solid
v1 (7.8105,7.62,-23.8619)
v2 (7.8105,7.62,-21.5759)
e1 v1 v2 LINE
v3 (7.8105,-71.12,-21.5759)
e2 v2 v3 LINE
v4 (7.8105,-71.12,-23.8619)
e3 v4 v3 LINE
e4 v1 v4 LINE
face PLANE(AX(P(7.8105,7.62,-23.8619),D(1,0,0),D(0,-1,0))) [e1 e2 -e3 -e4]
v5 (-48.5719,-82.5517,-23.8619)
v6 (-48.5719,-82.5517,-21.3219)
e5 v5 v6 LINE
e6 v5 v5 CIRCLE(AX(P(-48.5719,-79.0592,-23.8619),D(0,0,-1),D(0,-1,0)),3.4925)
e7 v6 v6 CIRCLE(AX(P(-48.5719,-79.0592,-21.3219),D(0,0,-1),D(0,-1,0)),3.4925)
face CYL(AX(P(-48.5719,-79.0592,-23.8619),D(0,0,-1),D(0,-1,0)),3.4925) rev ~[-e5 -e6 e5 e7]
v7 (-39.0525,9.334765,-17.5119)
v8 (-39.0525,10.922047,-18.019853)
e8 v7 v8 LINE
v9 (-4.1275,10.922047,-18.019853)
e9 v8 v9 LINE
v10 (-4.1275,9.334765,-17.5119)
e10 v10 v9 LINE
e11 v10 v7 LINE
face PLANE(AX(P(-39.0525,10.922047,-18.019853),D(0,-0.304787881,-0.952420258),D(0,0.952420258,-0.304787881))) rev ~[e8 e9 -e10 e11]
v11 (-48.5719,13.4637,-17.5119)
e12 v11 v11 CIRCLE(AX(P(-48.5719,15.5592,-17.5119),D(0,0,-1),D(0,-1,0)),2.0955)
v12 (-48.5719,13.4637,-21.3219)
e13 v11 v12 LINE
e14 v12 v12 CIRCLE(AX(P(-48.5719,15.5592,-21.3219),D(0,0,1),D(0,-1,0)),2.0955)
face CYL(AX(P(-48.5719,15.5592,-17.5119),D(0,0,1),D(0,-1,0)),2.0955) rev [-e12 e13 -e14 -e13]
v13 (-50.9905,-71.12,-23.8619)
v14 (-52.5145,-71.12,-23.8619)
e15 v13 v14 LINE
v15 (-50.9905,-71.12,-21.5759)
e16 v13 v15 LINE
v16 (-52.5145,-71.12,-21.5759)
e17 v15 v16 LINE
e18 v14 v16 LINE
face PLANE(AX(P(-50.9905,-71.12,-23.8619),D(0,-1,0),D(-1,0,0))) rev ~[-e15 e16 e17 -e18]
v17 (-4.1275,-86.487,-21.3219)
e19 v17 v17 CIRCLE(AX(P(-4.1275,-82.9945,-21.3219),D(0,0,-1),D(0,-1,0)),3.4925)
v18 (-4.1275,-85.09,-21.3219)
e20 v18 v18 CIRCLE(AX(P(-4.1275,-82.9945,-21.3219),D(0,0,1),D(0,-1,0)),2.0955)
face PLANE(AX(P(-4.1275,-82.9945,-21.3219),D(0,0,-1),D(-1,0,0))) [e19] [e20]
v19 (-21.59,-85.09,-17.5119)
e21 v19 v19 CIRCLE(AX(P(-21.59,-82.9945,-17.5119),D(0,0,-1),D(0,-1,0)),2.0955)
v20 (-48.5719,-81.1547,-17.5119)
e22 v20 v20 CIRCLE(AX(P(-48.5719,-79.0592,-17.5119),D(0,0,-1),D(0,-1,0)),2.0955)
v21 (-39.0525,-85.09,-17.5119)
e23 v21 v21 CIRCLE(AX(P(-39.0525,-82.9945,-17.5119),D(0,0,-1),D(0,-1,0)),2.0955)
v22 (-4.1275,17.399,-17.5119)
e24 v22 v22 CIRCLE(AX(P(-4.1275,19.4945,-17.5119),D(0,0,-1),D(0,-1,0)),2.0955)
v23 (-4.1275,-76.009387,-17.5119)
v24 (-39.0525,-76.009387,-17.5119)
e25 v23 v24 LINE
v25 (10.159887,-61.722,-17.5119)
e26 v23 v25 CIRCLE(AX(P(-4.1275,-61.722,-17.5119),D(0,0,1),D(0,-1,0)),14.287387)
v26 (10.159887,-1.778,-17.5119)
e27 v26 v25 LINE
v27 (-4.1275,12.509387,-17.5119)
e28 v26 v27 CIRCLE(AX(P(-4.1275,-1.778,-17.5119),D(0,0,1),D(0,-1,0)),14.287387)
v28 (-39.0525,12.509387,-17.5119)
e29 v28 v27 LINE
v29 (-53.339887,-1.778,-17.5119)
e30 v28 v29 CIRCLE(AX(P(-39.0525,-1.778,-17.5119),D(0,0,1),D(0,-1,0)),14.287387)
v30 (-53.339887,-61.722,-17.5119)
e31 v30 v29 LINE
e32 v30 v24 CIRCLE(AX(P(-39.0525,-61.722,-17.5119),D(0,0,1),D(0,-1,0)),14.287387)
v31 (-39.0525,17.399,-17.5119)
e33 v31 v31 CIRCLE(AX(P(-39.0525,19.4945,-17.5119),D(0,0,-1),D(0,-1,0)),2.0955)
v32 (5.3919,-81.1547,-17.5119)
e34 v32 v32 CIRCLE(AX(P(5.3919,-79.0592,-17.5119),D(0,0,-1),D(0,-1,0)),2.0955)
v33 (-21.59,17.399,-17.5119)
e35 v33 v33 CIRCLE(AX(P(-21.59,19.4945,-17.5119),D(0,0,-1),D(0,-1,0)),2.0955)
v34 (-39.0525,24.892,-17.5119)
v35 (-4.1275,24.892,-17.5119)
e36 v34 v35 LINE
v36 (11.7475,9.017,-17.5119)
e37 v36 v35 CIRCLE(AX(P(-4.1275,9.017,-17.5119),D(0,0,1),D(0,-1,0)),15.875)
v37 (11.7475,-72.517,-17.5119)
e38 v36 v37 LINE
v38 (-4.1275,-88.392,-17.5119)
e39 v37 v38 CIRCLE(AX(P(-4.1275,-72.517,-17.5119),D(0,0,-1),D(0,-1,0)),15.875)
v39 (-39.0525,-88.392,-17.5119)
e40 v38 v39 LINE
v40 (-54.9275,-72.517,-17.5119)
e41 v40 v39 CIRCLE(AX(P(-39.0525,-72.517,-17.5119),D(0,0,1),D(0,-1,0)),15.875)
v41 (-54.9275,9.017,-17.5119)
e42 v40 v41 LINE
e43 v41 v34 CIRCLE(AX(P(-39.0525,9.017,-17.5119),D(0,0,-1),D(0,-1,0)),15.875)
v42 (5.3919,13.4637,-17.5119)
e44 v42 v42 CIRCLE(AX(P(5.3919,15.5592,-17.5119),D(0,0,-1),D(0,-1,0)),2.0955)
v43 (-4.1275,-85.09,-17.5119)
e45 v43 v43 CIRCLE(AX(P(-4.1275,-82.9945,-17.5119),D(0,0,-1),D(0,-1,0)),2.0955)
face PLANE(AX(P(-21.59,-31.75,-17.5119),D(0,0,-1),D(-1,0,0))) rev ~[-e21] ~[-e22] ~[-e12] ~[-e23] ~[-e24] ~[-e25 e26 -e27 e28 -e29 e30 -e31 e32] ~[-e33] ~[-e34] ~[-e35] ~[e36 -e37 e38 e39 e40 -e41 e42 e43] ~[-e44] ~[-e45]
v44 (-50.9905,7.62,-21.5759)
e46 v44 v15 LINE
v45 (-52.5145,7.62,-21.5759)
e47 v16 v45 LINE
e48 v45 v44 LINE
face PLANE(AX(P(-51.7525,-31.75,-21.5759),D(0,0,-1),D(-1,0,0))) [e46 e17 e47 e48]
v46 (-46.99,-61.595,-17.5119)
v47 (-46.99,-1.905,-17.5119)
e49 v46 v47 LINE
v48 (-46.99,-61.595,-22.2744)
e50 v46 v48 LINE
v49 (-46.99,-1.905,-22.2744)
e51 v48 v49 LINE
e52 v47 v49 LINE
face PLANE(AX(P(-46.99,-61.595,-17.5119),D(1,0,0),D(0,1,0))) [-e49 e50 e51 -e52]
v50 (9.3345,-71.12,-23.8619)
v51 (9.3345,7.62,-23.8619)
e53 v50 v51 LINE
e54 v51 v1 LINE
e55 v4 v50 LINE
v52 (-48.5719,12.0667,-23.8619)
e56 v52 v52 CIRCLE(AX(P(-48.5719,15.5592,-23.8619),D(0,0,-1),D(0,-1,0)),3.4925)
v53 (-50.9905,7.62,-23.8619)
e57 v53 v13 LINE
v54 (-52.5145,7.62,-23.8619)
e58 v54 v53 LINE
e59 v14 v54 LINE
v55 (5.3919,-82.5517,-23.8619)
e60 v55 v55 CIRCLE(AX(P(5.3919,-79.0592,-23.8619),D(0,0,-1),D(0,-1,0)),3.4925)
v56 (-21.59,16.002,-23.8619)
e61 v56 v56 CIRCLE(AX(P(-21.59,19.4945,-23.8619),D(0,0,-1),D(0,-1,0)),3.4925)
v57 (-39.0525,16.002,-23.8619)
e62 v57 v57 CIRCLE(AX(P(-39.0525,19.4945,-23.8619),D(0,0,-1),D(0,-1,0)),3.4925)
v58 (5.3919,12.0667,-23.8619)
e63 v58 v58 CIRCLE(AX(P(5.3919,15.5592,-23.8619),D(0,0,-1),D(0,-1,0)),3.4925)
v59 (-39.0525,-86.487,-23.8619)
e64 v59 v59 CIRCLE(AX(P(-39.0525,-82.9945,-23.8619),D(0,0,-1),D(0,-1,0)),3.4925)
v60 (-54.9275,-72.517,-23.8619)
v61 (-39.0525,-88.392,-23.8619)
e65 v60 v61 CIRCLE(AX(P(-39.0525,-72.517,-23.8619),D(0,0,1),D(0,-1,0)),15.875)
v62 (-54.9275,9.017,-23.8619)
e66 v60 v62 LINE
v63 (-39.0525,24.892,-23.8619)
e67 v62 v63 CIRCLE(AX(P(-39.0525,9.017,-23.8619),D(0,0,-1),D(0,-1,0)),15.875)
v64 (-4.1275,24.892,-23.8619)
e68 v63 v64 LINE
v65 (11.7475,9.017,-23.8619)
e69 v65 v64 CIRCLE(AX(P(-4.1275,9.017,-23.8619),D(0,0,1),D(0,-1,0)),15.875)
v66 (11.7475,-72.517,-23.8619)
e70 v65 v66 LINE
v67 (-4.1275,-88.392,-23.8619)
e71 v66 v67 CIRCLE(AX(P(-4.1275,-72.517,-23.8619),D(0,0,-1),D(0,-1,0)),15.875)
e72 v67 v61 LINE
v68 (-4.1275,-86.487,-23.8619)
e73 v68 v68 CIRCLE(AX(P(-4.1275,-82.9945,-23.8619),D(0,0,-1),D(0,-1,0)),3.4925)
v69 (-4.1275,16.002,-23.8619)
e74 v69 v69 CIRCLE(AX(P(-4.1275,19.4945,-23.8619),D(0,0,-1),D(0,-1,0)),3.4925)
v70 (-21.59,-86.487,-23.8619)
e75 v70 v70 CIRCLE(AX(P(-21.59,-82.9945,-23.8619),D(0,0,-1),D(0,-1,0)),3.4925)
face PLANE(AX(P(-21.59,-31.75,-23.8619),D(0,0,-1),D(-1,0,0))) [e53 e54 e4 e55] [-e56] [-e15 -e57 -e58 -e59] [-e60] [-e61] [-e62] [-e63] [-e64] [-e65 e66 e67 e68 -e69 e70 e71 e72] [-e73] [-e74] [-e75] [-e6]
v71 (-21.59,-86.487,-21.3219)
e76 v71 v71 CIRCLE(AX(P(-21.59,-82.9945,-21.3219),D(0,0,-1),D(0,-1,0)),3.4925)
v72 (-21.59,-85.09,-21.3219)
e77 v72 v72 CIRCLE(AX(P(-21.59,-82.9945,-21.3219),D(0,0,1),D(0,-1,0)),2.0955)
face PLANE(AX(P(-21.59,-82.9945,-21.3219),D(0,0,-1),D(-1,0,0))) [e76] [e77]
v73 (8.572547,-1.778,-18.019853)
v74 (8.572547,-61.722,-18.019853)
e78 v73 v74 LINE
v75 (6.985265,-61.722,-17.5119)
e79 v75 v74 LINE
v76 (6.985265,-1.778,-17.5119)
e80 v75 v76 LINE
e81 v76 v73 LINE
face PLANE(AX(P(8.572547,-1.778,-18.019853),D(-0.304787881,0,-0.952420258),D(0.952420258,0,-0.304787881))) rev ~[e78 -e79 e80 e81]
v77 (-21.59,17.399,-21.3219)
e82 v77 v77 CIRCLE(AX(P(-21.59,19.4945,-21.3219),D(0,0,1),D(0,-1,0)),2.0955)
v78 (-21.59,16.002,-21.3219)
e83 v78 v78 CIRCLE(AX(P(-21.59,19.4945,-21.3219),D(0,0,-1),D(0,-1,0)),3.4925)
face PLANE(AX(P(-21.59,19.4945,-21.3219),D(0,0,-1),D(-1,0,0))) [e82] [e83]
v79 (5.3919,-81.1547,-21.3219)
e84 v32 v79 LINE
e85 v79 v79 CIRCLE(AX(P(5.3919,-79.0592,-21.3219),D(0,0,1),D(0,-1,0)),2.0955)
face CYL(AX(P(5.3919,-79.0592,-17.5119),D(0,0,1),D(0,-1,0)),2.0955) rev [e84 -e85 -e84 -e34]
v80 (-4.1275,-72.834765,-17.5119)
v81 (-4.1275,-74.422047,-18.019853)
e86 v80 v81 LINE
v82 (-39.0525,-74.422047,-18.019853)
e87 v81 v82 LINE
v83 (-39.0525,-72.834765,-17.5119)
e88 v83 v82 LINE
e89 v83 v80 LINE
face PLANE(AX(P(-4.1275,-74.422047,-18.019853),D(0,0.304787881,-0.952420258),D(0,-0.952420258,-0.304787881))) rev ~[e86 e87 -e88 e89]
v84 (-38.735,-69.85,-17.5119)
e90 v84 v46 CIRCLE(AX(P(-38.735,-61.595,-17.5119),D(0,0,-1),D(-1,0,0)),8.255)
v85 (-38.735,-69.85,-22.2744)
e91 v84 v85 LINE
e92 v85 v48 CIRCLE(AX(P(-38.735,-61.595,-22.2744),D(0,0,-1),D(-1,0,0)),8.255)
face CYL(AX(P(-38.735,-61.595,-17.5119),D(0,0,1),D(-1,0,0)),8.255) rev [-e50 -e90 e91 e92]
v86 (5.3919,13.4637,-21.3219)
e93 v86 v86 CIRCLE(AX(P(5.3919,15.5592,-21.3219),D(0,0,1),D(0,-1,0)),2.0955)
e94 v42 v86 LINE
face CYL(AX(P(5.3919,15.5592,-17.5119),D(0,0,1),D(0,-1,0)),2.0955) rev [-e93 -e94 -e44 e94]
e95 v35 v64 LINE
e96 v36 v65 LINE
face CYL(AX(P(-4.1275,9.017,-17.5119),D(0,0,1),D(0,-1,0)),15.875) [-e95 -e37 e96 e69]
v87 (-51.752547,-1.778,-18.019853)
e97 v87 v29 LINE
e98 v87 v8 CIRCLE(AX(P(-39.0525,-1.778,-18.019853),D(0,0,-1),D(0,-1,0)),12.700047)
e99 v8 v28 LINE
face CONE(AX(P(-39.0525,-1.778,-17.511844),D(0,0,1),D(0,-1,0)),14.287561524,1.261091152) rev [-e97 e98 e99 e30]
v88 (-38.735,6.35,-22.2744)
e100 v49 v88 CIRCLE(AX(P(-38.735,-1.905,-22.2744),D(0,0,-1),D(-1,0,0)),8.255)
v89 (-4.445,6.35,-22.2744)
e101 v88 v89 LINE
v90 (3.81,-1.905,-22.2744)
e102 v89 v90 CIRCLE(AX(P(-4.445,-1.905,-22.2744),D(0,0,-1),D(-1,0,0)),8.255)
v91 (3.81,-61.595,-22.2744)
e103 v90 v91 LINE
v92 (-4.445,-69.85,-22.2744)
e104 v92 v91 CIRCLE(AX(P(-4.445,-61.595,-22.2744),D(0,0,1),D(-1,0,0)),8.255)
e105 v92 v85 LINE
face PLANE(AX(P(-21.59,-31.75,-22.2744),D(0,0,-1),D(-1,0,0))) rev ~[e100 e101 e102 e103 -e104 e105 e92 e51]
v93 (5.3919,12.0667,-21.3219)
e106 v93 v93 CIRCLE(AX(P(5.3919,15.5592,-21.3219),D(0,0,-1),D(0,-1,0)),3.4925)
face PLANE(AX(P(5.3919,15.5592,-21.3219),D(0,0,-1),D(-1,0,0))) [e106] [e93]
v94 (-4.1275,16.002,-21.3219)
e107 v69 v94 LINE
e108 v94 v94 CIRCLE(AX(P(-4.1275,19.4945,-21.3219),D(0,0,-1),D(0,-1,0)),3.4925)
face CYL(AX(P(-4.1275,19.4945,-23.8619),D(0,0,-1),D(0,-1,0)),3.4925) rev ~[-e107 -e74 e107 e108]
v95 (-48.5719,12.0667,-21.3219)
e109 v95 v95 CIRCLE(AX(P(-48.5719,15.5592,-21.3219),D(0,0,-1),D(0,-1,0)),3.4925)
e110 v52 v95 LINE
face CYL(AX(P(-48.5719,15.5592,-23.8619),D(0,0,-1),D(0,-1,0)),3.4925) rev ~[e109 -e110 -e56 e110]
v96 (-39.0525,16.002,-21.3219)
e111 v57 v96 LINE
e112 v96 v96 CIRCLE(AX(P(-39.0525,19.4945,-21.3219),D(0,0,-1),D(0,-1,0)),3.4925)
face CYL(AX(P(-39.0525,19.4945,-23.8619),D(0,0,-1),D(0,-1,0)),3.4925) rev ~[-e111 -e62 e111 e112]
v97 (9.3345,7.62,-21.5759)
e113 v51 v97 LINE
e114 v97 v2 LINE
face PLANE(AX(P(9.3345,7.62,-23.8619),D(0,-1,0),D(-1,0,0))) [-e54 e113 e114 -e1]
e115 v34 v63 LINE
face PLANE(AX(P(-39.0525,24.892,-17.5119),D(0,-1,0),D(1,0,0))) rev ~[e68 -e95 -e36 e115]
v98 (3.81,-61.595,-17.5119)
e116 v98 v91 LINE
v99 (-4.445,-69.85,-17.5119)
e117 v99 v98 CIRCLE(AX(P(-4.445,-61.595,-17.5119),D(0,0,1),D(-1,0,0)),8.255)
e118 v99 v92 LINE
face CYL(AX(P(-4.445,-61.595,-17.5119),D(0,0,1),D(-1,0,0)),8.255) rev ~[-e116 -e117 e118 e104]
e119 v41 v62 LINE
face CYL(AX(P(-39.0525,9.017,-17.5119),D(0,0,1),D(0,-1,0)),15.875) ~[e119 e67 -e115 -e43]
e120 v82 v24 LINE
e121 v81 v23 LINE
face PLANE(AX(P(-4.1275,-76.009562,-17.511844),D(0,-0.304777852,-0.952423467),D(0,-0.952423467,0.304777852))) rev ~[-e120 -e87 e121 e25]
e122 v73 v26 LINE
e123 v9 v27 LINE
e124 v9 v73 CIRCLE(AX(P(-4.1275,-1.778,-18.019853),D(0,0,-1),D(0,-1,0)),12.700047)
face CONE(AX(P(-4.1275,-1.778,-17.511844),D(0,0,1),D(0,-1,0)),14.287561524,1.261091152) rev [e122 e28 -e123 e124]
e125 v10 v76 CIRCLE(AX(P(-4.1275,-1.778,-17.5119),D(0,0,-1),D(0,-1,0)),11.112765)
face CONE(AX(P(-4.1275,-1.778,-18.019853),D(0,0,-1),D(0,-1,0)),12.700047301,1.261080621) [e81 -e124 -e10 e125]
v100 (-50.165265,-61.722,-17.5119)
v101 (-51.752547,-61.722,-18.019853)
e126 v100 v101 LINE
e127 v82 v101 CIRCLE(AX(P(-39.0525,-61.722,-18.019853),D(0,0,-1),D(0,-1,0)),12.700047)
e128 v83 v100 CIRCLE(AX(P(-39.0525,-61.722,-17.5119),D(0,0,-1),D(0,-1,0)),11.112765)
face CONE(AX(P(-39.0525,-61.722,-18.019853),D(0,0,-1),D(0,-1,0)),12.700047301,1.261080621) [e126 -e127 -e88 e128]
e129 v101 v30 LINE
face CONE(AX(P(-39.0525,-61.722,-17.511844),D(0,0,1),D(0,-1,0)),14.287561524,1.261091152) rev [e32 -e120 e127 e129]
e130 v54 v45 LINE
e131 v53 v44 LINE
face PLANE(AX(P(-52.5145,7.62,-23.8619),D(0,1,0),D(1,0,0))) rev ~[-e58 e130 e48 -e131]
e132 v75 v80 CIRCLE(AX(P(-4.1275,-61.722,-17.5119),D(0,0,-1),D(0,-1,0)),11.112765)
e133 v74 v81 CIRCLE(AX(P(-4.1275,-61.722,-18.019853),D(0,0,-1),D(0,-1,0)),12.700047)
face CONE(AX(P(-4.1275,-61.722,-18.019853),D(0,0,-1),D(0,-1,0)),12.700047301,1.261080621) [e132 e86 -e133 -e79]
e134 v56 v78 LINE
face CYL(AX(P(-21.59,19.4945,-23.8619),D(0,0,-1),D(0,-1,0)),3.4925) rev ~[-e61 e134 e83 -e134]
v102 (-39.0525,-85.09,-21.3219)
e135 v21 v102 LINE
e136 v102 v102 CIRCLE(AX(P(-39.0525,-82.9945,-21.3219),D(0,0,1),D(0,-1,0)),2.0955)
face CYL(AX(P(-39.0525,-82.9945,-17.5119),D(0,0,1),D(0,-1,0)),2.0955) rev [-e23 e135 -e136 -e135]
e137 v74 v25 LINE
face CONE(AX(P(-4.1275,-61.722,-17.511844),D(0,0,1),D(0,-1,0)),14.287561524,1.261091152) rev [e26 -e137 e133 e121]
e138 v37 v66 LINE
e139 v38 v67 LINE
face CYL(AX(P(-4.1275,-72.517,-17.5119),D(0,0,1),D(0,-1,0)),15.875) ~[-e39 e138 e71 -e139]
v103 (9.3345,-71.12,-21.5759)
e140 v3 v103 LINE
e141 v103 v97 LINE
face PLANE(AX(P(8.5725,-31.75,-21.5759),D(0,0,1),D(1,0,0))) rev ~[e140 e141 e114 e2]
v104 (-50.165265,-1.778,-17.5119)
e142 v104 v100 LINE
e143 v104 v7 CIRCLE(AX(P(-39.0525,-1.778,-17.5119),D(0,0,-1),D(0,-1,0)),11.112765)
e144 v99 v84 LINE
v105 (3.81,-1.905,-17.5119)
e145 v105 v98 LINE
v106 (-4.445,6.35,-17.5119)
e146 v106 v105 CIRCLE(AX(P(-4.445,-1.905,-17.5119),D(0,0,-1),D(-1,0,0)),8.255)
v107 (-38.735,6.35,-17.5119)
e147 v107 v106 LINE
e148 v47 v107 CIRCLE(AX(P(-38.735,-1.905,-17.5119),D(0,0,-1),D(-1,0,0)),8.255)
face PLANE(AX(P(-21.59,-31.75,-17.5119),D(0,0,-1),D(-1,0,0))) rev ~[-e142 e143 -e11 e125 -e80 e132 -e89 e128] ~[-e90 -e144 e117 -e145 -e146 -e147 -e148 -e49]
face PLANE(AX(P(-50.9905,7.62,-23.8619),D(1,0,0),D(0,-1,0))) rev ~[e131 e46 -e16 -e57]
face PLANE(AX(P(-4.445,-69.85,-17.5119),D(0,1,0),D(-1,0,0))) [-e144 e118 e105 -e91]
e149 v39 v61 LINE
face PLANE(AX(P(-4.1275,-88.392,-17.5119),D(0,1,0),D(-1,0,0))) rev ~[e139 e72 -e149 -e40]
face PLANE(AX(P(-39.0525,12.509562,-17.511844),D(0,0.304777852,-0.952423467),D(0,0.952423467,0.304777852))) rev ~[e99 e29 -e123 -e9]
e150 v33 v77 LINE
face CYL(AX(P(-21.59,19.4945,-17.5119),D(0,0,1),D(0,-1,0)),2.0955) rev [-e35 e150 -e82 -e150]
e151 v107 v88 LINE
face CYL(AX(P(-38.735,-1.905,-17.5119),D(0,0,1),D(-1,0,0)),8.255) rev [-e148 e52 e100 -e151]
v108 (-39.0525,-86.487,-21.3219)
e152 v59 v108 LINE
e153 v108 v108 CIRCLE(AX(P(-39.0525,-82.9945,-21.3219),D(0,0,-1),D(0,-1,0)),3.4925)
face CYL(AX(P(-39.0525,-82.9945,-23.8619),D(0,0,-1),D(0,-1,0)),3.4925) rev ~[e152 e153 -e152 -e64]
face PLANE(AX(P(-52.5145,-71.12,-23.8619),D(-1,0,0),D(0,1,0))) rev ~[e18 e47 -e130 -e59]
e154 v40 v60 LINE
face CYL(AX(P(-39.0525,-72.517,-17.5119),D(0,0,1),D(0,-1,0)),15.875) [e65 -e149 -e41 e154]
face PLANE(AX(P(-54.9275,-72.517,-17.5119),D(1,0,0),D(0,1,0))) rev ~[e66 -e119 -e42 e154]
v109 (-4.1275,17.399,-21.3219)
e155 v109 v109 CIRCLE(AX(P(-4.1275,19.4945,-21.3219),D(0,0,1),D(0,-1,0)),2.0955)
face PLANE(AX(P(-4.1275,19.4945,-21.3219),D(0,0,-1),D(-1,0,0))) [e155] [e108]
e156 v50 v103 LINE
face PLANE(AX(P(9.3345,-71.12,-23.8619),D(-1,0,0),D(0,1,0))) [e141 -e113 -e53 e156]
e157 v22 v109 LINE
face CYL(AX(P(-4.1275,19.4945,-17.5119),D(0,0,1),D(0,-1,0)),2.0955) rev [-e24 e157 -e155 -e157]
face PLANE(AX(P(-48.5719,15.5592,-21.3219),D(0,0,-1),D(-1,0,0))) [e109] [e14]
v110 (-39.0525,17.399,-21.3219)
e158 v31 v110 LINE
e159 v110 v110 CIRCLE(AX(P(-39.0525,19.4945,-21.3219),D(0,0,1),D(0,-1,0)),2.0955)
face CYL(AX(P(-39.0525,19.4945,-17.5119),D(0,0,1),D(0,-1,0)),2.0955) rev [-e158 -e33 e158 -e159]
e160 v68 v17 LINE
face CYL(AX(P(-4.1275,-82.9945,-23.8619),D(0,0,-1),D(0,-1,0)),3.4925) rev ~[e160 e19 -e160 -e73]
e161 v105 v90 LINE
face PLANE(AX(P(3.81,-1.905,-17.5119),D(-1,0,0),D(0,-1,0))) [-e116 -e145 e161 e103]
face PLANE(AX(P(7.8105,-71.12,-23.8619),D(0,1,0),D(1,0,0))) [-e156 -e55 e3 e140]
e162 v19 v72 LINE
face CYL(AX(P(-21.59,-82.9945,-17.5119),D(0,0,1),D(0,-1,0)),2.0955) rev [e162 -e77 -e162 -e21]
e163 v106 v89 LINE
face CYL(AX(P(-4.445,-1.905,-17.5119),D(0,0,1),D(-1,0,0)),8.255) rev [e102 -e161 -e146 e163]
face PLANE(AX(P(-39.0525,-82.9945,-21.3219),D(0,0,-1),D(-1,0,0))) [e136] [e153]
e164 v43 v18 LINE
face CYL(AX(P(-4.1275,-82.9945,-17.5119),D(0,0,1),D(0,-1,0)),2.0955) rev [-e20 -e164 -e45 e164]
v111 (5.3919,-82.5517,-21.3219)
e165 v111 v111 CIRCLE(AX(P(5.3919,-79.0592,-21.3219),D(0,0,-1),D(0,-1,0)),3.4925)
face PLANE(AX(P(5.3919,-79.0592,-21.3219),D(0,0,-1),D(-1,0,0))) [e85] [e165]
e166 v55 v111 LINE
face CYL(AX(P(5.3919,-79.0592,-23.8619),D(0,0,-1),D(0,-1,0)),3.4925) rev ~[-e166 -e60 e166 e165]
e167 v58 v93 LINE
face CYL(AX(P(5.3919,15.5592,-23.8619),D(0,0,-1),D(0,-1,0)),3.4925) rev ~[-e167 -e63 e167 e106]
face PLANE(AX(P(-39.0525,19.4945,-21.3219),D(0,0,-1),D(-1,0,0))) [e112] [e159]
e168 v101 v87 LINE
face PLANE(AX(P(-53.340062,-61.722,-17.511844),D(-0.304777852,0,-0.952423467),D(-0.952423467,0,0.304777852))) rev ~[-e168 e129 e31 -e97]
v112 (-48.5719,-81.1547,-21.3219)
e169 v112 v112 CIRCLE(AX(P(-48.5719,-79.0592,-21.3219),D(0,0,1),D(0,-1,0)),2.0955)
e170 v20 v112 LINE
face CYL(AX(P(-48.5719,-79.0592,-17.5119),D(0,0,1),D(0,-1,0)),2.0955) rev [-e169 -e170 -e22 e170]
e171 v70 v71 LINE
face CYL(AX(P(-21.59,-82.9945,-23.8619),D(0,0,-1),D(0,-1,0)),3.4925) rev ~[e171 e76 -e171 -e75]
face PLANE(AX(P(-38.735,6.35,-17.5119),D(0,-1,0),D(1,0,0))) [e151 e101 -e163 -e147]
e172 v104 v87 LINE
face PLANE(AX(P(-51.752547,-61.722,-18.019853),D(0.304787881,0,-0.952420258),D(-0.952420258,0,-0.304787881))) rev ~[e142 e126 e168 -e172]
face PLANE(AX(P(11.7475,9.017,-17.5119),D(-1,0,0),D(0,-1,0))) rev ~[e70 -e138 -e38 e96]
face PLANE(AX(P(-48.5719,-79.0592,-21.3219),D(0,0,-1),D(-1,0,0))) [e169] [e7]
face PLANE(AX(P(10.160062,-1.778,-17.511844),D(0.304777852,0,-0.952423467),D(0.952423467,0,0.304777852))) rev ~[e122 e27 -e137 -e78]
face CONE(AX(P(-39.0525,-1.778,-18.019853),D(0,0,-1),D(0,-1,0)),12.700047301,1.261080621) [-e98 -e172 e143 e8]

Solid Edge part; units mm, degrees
sketch "Sketch1" plane through (-21.59, -31.75, -17.5119) normal (0, 0, -1) x (0, -1, 0)
  line L0 (56.642, -17.4625) -> (56.642, 17.4625)
  arc A0 (40.767, 33.3375) -> (56.642, 17.4625) centre (40.767, 17.4625) cw
  line L1 (40.767, 33.3375) -> (-40.767, 33.3375)
  arc A1 (-40.767, 33.3375) -> (-56.642, 17.4625) centre (-40.767, 17.4625) ccw
  line L2 (-56.642, 17.4625) -> (-56.642, -17.4625)
  arc A2 (-40.767, -33.3375) -> (-56.642, -17.4625) centre (-40.767, -17.4625) cw
  line L3 (-40.767, -33.3375) -> (40.767, -33.3375)
  arc A3 (40.767, -33.3375) -> (56.642, -17.4625) centre (40.767, -17.4625) ccw
  circle A4 centre (51.2445, 0) radius 2.0955
  circle A5 centre (51.2445, 17.4625) radius 2.0955
  circle A6 centre (47.3092, 26.9819) radius 2.0955
  circle A7 centre (51.2445, -17.4625) radius 2.0955
  circle A8 centre (47.3092, -26.9819) radius 2.0955
  circle A9 centre (-47.3092, 26.9819) radius 2.0955
  circle A10 centre (-51.2445, 17.4625) radius 2.0955
  circle A11 centre (-51.2445, 0) radius 2.0955
  circle A12 centre (-51.2445, -17.4625) radius 2.0955
  circle A13 centre (-47.3092, -26.9819) radius 2.0955
extrude "Protrusion1" add sketch "Sketch1" along normal blind 6.35
extrude "ExtrudedCutout_1" [suppressed]
sketch "Sketch2" plane through (-21.59, -31.75, -17.5119) normal (0, 0, -1) x (0, -1, 0)
  line L0 (42.672, -17.4625) -> (42.672, 17.4625)
  arc A0 (42.672, 17.4625) -> (29.972, 30.1625) centre (29.972, 17.4625) ccw
  line L1 (29.972, 30.1625) -> (-29.972, 30.1625)
  arc A1 (-42.672, 17.4625) -> (-29.972, 30.1625) centre (-29.972, 17.4625) cw
  line L2 (-42.672, 17.4625) -> (-42.672, -17.4625)
  arc A2 (-29.972, -30.1625) -> (-42.672, -17.4625) centre (-29.972, -17.4625) cw
  line L3 (-29.972, -30.1625) -> (29.972, -30.1625)
  arc A3 (42.672, -17.4625) -> (29.972, -30.1625) centre (29.972, -17.4625) cw
sketch "Sketch3" plane through (-21.59, -76.5773, -17.5119) normal (1, 0, 0) x (0, 0.7809, -0.6247)
  line L0 (0.4433, 0.3547) -> (2.9226, 2.3381)
  line L1 (2.0003, 0.9497) -> (2.9226, 2.3381)
  line L2 (0.4433, 0.3547) -> (2.0003, 0.9497)
  dimension "D1" = 0.508
sweep "SweptCutout_2" cut profiles "Sketch3" path "Sketch2"
sketch "Sketch4" plane through (-21.59, -31.75, -23.8619) normal (0, 0, -1) x (0, -1, 0)
  circle A0 centre (47.3092, 26.9819) radius 3.4925
  circle A1 centre (51.2445, 17.4625) radius 3.4925
  circle A2 centre (51.2445, 0) radius 3.4925
  circle A3 centre (51.2445, -17.4625) radius 3.4925
  circle A4 centre (47.3092, -26.9819) radius 3.4925
  circle A5 centre (-47.3092, -26.9819) radius 3.4925
  circle A6 centre (-51.2445, -17.4625) radius 3.4925
  circle A7 centre (-51.2445, 0) radius 3.4925
  circle A8 centre (-51.2445, 17.4625) radius 3.4925
  circle A9 centre (-47.3092, 26.9819) radius 3.4925
  dimension "D1" = 6.985
extrude "counter_sink" cut sketch "Sketch4" against normal blind 2.54
sketch "Sketch5" plane through (-21.59, -31.75, -23.8619) normal (0, 0, -1) x (0, -1, 0)
  line L0 (39.37, -30.9245) -> (-39.37, -30.9245)
  line L1 (-39.37, -30.9245) -> (-39.37, -29.4005)
  line L2 (-39.37, -29.4005) -> (39.37, -29.4005)
  line L3 (39.37, -29.4005) -> (39.37, -30.9245)
  line L4 (-39.37, 29.4005) -> (39.37, 29.4005)
  line L5 (39.37, 29.4005) -> (39.37, 30.9245)
  line L6 (39.37, 30.9245) -> (-39.37, 30.9245)
  line L7 (-39.37, 30.9245) -> (-39.37, 29.4005)
  dimension "D1" = 78.74
  dimension "D2" = 1.524
extrude "ExtrudedCutout_3" cut sketch "Sketch5" against normal blind 2.286
sketch "Sketch6" plane through (-21.59, -31.75, -17.5119) normal (0, 0, 1) x (-1, 0, 0)
  line L0 (-17.145, 38.1) -> (17.145, 38.1)
  arc A0 (17.145, 38.1) -> (25.4, 29.845) centre (17.145, 29.845) cw
  line L1 (25.4, 29.845) -> (25.4, -29.845)
  arc A1 (25.4, -29.845) -> (17.145, -38.1) centre (17.145, -29.845) cw
  line L2 (17.145, -38.1) -> (-17.145, -38.1)
  arc A2 (-17.145, -38.1) -> (-25.4, -29.845) centre (-17.145, -29.845) cw
  line L3 (-25.4, -29.845) -> (-25.4, 29.845)
  arc A3 (-17.145, 38.1) -> (-25.4, 29.845) centre (-17.145, 29.845) ccw
extrude "thin_the_center_of_the_lid" cut sketch "Sketch6" against normal blind 4.7625
